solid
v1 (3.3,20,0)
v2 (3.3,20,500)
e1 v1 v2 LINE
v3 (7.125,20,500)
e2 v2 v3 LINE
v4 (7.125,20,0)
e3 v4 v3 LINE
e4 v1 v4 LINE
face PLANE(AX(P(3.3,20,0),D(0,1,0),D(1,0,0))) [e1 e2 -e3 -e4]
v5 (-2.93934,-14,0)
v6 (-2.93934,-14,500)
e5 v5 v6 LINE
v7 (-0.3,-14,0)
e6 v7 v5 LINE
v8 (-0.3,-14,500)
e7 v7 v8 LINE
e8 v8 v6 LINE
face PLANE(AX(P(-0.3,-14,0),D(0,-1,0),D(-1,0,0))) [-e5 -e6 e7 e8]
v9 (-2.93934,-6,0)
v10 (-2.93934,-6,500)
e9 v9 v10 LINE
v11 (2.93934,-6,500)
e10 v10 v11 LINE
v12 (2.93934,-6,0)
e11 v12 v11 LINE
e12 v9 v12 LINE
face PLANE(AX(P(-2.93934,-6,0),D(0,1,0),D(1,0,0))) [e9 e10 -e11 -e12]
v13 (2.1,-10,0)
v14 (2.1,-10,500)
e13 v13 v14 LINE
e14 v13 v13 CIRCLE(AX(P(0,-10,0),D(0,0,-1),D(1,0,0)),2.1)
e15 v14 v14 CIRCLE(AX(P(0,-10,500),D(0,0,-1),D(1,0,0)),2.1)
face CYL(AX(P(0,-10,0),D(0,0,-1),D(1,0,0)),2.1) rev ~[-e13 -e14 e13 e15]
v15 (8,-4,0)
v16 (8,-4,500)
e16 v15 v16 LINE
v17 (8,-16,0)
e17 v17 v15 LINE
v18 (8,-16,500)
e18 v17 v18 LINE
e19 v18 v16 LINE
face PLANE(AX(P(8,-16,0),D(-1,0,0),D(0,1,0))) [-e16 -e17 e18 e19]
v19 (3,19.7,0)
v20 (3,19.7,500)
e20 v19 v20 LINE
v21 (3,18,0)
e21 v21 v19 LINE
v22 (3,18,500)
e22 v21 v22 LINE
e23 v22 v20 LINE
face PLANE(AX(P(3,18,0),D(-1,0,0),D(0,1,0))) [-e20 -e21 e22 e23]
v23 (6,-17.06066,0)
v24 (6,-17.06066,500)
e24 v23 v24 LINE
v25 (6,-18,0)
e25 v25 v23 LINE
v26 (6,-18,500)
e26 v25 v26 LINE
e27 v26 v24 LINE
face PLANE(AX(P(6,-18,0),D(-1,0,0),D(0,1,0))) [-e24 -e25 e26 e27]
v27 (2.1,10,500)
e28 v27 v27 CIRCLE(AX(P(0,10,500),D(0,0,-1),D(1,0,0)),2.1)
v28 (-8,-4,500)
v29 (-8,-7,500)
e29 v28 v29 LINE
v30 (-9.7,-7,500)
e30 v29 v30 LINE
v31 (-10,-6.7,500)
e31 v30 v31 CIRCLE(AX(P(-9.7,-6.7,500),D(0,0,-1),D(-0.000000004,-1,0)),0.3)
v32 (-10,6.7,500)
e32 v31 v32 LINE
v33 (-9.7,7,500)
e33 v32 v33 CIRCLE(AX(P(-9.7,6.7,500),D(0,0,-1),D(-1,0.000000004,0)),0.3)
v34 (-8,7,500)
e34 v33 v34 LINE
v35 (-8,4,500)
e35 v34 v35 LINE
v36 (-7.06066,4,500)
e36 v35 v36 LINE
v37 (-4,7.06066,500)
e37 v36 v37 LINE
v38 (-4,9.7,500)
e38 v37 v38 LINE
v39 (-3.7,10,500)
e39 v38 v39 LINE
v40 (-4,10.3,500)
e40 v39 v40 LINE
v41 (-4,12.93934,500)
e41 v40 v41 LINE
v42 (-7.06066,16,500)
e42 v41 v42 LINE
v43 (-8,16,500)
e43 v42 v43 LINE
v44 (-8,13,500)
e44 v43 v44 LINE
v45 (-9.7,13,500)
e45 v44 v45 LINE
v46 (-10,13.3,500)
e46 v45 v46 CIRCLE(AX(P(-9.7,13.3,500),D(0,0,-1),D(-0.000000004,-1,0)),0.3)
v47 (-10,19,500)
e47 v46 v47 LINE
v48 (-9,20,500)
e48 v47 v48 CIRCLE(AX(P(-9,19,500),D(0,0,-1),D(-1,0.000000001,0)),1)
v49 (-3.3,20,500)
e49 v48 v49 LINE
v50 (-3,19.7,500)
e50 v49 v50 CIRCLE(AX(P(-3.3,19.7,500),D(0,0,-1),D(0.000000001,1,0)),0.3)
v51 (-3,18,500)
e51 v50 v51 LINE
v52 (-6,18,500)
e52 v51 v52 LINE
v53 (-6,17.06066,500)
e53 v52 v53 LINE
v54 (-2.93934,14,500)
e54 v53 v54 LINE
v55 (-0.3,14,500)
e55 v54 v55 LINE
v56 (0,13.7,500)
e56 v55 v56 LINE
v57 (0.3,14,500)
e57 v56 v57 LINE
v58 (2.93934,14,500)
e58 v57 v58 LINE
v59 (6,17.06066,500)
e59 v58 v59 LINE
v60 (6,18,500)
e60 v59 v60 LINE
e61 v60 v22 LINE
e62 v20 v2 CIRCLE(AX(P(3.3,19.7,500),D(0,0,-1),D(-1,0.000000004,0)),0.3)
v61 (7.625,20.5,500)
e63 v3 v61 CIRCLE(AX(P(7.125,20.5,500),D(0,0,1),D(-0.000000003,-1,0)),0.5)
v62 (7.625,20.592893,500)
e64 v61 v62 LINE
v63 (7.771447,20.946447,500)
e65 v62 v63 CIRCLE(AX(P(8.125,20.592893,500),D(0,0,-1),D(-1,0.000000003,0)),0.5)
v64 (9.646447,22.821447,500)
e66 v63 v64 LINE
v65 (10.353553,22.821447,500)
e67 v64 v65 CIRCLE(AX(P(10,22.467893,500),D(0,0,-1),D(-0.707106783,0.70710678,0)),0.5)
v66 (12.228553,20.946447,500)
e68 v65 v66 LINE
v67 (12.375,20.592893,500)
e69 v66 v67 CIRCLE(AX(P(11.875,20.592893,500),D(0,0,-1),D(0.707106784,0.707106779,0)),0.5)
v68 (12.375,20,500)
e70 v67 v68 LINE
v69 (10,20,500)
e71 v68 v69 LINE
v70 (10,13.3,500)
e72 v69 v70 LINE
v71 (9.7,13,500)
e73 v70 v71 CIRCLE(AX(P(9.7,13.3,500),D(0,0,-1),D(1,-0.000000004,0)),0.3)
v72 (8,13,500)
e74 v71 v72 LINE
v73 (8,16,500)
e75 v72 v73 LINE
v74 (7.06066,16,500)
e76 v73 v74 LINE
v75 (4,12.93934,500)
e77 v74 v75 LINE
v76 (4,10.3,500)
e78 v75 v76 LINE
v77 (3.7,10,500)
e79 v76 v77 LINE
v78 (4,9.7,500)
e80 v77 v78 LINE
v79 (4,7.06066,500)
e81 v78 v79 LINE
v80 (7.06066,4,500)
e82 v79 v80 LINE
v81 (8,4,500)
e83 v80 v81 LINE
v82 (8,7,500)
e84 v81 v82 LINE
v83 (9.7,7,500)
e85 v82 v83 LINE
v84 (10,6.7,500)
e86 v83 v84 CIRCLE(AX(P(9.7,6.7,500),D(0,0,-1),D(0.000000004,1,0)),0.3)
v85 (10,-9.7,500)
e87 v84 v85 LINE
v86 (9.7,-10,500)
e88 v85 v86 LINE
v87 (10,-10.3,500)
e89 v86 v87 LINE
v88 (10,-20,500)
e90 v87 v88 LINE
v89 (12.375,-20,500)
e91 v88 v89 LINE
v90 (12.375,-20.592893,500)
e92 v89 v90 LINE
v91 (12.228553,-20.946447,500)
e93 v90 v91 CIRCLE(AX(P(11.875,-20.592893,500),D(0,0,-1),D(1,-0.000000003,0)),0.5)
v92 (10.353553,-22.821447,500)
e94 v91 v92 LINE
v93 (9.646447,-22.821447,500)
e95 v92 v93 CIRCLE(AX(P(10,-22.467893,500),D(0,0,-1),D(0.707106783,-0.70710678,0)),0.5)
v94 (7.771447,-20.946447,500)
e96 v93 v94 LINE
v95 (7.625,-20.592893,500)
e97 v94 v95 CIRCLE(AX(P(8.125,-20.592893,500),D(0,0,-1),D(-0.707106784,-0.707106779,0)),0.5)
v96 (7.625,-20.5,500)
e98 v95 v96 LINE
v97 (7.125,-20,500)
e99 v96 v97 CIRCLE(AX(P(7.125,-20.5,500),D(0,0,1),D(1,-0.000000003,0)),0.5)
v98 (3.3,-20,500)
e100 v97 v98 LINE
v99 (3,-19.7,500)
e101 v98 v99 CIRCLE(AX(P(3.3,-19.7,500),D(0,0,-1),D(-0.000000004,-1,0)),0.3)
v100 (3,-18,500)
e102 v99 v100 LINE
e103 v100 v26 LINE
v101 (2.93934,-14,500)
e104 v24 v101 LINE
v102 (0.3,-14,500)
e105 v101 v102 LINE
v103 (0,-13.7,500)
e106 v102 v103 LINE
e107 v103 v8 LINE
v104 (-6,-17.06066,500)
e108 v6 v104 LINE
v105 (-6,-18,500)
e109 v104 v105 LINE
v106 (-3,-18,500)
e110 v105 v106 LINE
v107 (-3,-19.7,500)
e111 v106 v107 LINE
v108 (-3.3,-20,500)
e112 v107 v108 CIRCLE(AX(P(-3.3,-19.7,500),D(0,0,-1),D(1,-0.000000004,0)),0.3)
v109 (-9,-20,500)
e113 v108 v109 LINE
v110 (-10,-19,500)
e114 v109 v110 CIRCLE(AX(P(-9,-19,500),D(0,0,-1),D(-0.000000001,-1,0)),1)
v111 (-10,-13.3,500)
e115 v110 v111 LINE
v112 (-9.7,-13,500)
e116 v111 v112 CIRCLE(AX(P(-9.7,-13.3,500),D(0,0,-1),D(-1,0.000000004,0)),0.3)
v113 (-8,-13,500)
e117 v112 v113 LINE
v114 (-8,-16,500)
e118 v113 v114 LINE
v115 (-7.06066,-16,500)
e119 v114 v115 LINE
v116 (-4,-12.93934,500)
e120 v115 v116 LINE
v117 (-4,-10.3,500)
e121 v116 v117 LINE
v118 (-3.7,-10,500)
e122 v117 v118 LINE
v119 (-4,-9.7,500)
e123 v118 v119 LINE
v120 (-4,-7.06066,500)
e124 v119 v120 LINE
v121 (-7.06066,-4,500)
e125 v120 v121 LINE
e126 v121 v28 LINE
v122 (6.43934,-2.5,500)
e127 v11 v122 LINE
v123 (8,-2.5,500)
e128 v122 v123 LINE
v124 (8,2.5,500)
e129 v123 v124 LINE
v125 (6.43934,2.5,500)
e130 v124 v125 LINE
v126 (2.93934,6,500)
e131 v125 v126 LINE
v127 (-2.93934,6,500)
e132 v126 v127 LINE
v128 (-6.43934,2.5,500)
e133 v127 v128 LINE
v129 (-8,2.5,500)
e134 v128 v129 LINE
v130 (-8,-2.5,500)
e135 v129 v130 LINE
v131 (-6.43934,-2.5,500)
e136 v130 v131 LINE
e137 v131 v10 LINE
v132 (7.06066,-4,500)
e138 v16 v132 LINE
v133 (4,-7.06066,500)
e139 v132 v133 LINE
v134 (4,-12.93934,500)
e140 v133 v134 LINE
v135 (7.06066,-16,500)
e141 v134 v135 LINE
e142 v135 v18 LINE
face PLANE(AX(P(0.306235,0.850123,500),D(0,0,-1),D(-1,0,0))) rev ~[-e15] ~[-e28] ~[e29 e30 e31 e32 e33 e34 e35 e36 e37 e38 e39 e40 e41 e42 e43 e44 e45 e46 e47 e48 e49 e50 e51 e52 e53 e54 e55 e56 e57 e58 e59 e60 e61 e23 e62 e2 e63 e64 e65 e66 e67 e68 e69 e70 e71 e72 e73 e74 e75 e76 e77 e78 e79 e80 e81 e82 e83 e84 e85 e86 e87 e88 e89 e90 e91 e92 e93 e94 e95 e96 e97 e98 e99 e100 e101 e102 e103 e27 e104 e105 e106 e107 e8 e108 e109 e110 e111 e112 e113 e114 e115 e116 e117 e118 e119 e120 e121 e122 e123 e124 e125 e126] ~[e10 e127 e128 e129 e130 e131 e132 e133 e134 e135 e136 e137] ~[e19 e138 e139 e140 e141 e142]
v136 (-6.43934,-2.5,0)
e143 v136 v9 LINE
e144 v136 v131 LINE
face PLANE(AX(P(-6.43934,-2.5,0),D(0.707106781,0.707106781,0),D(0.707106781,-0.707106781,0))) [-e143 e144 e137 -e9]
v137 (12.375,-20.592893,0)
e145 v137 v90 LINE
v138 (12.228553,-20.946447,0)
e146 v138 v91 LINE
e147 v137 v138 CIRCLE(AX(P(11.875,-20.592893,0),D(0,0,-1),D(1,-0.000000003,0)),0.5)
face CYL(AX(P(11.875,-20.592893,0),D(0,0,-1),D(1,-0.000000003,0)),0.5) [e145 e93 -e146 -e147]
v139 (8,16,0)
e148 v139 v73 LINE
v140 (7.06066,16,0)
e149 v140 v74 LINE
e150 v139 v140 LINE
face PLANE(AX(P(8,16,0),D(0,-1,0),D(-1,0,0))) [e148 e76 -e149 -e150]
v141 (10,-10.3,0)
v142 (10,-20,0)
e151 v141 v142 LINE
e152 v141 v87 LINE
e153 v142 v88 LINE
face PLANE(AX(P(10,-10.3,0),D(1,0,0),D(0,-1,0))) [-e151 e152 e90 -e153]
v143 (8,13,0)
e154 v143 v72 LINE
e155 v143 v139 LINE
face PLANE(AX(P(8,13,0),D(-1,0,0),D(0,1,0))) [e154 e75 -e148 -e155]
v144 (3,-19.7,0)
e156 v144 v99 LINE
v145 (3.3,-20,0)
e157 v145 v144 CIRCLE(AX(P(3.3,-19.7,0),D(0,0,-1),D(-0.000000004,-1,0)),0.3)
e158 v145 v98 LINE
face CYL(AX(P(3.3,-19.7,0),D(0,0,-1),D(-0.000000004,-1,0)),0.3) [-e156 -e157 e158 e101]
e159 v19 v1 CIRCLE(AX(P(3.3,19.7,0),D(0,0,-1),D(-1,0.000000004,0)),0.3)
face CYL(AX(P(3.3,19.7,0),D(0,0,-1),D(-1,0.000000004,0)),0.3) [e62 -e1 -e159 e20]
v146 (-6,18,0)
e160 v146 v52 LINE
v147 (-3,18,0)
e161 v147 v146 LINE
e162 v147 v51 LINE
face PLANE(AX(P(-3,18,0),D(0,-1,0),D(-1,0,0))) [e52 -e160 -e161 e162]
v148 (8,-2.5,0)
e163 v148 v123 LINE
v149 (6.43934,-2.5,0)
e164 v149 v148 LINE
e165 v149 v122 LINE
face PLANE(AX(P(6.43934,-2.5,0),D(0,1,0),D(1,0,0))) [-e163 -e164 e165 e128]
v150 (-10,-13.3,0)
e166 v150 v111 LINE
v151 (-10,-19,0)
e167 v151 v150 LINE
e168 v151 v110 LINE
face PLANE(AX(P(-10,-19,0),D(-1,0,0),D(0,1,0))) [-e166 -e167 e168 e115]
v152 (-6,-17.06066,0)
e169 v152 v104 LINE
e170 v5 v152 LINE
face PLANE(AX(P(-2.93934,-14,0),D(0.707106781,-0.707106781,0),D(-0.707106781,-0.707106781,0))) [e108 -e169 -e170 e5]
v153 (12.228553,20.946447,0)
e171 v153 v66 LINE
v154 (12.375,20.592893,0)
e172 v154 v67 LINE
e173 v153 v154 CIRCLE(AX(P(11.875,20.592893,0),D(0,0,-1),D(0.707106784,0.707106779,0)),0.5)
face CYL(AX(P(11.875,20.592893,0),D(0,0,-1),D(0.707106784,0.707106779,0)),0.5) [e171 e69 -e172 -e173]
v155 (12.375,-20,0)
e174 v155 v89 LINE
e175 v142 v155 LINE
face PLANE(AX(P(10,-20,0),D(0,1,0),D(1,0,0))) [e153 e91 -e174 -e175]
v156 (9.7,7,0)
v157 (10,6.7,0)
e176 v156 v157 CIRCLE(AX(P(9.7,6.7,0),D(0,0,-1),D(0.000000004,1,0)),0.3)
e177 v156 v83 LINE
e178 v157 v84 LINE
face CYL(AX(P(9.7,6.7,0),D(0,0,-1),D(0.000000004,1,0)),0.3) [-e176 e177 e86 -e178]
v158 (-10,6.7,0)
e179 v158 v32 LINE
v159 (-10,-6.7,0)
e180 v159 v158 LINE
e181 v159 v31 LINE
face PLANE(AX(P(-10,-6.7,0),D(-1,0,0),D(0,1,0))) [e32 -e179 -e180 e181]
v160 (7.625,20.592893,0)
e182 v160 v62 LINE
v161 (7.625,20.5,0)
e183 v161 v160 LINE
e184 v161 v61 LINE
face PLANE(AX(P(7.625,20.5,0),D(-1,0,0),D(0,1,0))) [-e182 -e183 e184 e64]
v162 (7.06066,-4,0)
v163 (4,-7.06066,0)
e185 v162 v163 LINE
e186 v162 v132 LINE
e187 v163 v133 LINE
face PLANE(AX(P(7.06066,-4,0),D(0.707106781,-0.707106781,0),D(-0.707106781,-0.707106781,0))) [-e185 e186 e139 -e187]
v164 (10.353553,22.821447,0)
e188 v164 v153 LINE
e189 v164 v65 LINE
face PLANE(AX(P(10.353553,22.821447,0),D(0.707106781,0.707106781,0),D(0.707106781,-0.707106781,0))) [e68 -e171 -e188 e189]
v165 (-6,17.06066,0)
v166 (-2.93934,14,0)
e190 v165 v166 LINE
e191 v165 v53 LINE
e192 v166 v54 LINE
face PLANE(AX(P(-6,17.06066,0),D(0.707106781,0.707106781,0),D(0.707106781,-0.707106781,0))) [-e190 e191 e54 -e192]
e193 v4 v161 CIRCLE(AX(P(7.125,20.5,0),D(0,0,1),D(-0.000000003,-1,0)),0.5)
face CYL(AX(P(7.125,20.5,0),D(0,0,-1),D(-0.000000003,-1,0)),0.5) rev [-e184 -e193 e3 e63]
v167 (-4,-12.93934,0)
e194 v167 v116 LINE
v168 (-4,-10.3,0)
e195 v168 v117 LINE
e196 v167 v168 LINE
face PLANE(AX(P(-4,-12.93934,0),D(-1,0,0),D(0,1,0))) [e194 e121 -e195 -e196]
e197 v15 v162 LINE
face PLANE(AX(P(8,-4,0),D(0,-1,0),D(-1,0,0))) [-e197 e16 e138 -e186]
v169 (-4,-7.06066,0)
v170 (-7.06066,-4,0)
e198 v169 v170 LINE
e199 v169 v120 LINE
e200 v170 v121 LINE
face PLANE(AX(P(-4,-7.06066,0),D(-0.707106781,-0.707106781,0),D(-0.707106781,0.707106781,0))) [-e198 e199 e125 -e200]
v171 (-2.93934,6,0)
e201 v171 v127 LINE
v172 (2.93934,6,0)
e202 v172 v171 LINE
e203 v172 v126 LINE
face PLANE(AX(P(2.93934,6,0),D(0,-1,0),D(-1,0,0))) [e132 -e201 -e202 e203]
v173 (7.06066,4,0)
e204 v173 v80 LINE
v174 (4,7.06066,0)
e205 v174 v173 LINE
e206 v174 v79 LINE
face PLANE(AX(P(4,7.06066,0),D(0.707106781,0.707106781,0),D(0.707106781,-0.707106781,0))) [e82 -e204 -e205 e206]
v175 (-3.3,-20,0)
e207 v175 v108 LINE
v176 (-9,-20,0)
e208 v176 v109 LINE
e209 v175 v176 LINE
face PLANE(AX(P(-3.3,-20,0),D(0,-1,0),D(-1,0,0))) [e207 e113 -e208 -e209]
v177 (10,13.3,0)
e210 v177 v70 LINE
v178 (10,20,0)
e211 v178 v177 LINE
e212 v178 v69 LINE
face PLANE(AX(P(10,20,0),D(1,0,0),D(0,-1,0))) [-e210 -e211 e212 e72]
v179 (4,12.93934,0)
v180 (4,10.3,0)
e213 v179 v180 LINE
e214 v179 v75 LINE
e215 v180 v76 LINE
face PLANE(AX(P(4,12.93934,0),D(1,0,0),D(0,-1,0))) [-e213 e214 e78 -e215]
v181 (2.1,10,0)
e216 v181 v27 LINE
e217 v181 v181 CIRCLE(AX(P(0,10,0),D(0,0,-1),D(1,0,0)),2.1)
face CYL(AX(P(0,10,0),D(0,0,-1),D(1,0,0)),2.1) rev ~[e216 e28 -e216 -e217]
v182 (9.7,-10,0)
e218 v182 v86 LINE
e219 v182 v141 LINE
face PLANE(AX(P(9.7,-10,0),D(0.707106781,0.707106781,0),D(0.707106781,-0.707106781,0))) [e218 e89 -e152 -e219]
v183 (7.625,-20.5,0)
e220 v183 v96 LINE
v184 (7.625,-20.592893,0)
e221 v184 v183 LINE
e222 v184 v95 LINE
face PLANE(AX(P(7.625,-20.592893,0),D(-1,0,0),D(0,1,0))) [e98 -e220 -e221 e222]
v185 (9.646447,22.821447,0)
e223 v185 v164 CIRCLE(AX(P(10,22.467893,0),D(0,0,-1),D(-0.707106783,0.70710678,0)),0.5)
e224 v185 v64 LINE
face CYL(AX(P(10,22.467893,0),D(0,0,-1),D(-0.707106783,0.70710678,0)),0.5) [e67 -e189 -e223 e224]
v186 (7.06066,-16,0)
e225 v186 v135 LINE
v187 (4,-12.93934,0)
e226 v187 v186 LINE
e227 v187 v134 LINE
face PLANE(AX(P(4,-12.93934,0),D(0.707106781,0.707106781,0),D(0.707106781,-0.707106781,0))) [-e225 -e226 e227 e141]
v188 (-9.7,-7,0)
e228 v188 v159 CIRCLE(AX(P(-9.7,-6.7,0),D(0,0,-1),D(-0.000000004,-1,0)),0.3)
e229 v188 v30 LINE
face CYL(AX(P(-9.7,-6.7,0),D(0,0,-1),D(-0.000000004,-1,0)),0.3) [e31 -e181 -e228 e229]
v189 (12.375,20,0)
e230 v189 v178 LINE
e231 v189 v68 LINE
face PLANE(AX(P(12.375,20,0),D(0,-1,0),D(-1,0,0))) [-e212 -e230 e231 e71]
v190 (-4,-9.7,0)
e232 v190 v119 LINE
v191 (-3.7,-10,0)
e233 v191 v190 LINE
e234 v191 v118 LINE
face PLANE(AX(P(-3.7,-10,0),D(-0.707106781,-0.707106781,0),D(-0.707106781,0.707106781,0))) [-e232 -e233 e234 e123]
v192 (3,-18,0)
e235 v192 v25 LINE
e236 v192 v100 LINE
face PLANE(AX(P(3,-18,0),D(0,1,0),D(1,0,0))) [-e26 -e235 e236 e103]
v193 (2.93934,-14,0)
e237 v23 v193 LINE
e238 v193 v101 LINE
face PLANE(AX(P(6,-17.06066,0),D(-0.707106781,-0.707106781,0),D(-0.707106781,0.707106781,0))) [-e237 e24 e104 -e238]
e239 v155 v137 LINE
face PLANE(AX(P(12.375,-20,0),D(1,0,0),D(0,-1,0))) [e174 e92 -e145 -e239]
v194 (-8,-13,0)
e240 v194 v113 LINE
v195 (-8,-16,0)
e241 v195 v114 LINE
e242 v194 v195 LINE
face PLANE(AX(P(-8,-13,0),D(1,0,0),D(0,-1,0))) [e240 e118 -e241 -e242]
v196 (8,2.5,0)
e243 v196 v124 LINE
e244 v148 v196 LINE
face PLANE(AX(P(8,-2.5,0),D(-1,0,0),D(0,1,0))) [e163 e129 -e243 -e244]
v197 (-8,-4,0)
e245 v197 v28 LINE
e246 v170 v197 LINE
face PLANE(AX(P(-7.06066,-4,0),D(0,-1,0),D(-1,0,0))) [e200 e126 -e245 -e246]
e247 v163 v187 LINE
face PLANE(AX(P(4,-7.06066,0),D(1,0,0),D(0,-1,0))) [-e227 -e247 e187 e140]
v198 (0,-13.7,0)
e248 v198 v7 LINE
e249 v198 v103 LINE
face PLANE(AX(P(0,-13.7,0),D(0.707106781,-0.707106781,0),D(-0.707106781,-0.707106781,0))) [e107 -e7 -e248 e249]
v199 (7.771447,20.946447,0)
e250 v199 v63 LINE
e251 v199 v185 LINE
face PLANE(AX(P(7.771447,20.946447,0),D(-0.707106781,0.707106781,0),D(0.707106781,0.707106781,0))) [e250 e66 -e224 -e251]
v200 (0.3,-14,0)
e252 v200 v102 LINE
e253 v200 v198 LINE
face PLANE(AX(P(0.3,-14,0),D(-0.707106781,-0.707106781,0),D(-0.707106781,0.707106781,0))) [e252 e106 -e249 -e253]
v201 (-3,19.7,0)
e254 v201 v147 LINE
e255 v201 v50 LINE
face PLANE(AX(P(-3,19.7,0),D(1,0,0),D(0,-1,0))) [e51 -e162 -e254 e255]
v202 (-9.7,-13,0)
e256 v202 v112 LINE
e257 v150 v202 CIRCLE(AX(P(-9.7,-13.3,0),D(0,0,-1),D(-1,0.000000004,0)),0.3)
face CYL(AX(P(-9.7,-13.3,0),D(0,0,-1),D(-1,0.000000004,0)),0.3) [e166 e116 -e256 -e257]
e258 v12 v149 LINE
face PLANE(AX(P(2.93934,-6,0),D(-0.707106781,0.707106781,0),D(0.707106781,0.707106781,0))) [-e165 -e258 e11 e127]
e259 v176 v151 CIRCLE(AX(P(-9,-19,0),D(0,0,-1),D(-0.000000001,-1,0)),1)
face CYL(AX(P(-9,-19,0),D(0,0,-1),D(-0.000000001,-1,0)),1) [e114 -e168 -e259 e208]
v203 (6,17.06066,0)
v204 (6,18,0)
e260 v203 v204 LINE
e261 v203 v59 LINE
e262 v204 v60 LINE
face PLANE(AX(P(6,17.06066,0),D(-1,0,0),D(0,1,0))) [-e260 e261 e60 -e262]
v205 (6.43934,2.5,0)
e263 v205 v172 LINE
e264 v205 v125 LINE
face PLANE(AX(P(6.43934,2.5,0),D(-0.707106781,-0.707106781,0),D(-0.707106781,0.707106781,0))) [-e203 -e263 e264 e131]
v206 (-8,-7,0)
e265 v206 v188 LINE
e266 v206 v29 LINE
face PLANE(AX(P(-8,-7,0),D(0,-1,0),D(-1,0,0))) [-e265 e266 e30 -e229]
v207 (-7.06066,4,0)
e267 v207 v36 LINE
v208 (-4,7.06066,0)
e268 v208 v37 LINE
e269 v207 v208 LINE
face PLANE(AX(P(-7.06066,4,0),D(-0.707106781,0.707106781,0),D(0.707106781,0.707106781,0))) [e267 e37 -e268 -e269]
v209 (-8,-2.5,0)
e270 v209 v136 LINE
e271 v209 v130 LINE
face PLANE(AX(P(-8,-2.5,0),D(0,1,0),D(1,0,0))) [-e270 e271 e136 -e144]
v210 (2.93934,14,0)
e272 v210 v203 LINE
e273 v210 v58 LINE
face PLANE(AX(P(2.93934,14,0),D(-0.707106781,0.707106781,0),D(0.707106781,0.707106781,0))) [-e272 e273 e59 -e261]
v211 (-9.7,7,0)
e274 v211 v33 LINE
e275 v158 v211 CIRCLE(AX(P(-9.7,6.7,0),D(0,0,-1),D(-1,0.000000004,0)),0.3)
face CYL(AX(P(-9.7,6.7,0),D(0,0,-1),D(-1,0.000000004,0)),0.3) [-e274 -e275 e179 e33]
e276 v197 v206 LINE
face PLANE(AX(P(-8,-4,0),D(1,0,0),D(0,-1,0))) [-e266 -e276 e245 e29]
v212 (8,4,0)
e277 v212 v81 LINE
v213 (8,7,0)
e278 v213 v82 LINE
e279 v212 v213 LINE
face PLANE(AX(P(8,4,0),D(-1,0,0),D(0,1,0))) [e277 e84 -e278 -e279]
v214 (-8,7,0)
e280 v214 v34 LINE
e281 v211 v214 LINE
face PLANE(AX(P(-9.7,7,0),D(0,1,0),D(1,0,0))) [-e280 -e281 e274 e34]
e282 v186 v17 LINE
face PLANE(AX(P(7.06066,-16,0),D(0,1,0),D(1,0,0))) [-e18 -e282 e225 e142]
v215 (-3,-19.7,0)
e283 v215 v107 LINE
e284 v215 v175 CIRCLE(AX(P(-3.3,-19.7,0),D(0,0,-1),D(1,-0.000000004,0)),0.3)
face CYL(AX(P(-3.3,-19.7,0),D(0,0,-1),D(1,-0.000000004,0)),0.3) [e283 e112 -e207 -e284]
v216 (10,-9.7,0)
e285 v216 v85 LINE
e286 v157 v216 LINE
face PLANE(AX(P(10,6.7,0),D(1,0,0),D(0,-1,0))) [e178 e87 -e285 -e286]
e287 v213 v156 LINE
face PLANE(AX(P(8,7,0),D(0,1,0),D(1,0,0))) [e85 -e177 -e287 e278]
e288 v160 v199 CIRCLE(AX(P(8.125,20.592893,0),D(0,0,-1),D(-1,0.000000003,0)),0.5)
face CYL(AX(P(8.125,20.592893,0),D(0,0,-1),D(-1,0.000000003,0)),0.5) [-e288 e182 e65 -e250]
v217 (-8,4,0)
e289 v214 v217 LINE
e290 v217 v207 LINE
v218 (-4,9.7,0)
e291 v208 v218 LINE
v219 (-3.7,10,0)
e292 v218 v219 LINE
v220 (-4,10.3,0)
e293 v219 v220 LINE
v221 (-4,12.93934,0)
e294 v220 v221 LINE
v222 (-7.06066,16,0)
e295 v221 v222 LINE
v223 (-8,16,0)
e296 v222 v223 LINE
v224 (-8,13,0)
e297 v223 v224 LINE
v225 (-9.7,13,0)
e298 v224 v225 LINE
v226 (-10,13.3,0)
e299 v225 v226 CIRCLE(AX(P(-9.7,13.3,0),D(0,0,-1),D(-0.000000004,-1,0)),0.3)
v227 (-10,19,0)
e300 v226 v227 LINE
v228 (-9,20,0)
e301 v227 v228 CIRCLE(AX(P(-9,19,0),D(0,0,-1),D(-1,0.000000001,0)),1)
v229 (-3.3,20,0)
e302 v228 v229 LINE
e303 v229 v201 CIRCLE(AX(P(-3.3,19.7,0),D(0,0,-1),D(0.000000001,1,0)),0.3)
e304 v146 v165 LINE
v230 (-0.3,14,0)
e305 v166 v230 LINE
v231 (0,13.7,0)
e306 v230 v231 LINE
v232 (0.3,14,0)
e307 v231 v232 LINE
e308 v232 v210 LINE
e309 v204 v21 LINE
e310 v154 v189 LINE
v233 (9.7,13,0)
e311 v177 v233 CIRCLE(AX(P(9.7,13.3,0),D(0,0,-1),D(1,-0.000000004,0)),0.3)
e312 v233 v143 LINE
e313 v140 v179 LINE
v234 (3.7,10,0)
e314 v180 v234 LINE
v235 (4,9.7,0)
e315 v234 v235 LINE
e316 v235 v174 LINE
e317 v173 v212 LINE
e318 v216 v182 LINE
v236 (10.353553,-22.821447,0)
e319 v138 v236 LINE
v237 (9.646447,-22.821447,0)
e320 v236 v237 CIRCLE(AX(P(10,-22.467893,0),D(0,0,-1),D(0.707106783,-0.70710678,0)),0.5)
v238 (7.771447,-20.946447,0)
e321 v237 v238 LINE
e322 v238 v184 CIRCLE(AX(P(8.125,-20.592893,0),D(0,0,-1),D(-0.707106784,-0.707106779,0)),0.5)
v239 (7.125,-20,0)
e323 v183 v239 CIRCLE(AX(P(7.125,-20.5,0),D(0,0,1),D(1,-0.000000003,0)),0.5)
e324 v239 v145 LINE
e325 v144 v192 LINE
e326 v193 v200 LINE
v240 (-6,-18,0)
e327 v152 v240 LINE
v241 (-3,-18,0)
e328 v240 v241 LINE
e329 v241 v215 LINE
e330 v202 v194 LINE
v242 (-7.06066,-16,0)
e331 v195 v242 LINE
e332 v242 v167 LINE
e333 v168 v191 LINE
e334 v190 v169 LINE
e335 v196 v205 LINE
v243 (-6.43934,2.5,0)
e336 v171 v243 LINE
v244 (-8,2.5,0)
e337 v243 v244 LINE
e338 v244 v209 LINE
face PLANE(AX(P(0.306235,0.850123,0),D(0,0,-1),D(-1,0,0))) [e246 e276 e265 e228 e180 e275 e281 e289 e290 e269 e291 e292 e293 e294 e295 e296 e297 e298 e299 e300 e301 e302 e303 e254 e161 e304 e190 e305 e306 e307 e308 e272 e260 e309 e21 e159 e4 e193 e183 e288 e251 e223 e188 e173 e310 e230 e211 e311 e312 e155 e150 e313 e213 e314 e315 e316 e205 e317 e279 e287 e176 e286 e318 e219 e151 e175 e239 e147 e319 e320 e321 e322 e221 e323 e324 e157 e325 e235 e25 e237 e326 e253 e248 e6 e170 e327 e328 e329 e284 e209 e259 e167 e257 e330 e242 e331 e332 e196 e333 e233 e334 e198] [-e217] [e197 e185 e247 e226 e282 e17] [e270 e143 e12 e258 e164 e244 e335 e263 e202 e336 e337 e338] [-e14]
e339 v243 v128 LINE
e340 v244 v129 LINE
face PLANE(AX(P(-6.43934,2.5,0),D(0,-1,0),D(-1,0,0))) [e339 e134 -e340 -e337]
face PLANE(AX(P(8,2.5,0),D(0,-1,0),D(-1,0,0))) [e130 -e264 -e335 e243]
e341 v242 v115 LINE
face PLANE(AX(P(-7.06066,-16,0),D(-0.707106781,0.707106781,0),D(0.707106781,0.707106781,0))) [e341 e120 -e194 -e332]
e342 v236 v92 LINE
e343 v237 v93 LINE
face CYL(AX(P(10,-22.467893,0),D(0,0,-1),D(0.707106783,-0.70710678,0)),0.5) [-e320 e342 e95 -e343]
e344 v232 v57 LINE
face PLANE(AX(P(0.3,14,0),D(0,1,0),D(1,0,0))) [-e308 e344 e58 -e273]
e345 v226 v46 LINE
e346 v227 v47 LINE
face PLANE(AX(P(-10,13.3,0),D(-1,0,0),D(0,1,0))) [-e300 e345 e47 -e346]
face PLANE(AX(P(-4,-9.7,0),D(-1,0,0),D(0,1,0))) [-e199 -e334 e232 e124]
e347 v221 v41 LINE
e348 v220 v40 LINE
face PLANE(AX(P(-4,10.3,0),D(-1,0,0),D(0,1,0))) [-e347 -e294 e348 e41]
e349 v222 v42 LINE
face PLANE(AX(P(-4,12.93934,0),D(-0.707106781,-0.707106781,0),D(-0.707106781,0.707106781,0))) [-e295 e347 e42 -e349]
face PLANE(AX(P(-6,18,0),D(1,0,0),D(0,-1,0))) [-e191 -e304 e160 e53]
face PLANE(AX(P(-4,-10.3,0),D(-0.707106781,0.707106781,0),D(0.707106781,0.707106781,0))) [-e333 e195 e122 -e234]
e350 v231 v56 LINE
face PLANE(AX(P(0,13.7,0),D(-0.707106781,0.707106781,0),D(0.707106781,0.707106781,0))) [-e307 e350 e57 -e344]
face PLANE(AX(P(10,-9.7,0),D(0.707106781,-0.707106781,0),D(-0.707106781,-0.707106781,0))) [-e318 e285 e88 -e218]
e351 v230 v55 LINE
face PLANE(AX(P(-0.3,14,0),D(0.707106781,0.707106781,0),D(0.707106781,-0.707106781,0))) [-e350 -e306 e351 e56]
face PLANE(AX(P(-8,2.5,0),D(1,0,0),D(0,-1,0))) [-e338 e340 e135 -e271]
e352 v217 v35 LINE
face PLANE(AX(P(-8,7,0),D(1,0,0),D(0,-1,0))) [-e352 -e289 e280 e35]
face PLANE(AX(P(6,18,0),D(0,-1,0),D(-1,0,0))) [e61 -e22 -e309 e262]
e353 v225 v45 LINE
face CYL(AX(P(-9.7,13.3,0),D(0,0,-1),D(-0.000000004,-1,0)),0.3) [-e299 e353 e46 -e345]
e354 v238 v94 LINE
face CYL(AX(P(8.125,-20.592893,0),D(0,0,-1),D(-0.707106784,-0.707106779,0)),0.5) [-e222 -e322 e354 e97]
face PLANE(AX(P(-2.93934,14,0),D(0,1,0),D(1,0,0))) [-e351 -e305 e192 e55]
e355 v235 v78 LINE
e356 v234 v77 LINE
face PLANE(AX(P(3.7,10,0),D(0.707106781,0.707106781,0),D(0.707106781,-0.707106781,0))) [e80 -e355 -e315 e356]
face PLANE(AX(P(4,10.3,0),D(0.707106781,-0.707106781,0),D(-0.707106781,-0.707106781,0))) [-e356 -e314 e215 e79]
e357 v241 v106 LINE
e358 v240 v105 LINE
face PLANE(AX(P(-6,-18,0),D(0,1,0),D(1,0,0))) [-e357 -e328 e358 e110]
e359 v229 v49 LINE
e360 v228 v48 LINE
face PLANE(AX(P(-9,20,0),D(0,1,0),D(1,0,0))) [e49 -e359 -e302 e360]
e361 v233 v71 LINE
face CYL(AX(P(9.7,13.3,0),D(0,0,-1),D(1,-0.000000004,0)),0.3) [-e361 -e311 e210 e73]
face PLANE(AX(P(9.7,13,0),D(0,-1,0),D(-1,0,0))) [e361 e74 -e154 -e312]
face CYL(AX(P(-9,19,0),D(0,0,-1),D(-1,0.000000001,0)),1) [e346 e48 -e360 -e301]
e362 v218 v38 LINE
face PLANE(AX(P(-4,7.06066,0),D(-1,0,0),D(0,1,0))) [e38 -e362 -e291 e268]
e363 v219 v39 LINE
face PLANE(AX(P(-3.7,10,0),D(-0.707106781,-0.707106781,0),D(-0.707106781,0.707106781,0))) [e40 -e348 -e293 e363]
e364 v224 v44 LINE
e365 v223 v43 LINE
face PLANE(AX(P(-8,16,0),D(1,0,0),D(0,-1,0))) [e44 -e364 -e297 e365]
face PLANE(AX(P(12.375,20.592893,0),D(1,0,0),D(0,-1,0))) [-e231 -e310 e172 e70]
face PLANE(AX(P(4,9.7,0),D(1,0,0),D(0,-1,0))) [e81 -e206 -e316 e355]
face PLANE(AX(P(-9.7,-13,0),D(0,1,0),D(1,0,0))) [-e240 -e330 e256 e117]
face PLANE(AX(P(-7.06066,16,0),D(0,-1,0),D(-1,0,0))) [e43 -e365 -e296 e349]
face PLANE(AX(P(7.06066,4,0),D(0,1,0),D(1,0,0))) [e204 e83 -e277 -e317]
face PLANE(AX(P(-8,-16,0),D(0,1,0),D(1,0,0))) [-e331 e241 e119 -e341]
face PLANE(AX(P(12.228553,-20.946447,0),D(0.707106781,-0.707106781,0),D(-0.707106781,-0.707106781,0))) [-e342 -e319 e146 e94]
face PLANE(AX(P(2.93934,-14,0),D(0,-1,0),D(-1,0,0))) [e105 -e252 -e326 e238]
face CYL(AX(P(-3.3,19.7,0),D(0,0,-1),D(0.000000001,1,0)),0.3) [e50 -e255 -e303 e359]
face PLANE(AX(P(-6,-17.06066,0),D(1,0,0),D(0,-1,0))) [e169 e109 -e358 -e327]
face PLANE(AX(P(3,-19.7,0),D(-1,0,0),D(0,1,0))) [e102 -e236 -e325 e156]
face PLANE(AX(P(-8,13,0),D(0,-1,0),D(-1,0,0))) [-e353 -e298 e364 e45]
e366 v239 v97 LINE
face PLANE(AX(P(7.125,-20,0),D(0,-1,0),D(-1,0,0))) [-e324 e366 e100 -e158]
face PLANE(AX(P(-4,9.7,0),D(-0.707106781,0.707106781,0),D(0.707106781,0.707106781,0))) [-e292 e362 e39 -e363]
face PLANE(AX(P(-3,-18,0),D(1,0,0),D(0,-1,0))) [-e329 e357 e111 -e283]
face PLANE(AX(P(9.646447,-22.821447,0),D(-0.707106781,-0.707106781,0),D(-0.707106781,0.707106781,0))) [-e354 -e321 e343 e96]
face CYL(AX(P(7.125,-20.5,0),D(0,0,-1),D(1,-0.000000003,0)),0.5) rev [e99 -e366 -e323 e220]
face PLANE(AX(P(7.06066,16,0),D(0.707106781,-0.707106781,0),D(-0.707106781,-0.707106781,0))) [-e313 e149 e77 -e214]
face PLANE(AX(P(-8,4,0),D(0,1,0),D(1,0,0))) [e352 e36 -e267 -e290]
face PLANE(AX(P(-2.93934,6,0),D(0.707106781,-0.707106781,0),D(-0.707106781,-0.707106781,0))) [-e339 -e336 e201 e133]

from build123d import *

# Parameters (mm, degrees)
SKETCH1_R           = 2.1
BOSS_EXTRUDE1_DEPTH = 500


with BuildPart() as part:
    # Sketch1 → Boss-Extrude1 (new body)
    with BuildSketch(Plane(origin=(0, 0, 0), x_dir=(-1, 0, 0), z_dir=(0, 0, -1))):
        with BuildLine():
            Line((-9.646446609, -22.821446609), (-7.771446609, -20.946446609))
            ThreePointArc((-7.771446609, -20.946446609), (-7.663060234, -20.784234935), (-7.625, -20.592893219))
            Line((-7.625, -20.592893219), (-7.625, -20.5))
            ThreePointArc((-7.625, -20.5), (-7.478553391, -20.146446609), (-7.125, -20))
            Line((-7.125, -20), (-3.3, -20))
            ThreePointArc((-3.3, -20), (-3.087867966, -19.912132034), (-3, -19.7))
            Line((-3, -19.7), (-3, -18))
            Line((-3, -18), (-6, -18))
            Line((-6, -18), (-6, -17.060660172))
            Line((-6, -17.060660172), (-2.939339828, -14))
            Line((-2.939339828, -14), (-0.3, -14))
            Line((-0.3, -14), (0, -13.7))
            Line((0, -13.7), (0.3, -14))
            Line((0.3, -14), (2.939339828, -14))
            Line((2.939339828, -14), (6, -17.060660172))
            Line((6, -17.060660172), (6, -18))
            Line((6, -18), (3, -18))
            Line((3, -18), (3, -19.7))
            ThreePointArc((3, -19.7), (3.087867966, -19.912132034), (3.3, -20))
            Line((3.3, -20), (9, -20))
            ThreePointArc((9, -20), (9.707106781, -19.707106781), (10, -19))
            Line((10, -19), (10, -13.3))
            ThreePointArc((10, -13.3), (9.912132034, -13.087867966), (9.7, -13))
            Line((9.7, -13), (8, -13))
            Line((8, -13), (8, -16))
            Line((8, -16), (7.060660172, -16))
            Line((7.060660172, -16), (4, -12.939339828))
            Line((4, -12.939339828), (4, -10.3))
            Line((4, -10.3), (3.7, -10))
            Line((3.7, -10), (4, -9.7))
            Line((4, -9.7), (4, -7.060660172))
            Line((4, -7.060660172), (7.060660172, -4))
            Line((7.060660172, -4), (8, -4))
            Line((8, -4), (8, -7))
            Line((8, -7), (9.7, -7))
            ThreePointArc((9.7, -7), (9.912132034, -6.912132034), (10, -6.7))
            Line((10, -6.7), (10, 6.7))
            ThreePointArc((10, 6.7), (9.912132034, 6.912132034), (9.7, 7))
            Line((9.7, 7), (8, 7))
            Line((8, 7), (8, 4))
            Line((8, 4), (7.060660172, 4))
            Line((7.060660172, 4), (4, 7.060660172))
            Line((4, 7.060660172), (4, 9.7))
            Line((4, 9.7), (3.7, 10))
            Line((3.7, 10), (4, 10.3))
            Line((4, 10.3), (4, 12.939339828))
            Line((4, 12.939339828), (7.060660172, 16))
            Line((7.060660172, 16), (8, 16))
            Line((8, 16), (8, 13))
            Line((8, 13), (9.7, 13))
            ThreePointArc((9.7, 13), (9.912132034, 13.087867966), (10, 13.3))
            Line((10, 13.3), (10, 19))
            ThreePointArc((10, 19), (9.707106781, 19.707106781), (9, 20))
            Line((9, 20), (3.300000001, 20))
            ThreePointArc((3.300000001, 20), (3.087867966, 19.912132034), (3, 19.699999999))
            Line((3, 19.699999999), (3, 18))
            Line((3, 18), (6, 18))
            Line((6, 18), (6, 17.060660172))
            Line((6, 17.060660172), (2.939339828, 14))
            Line((2.939339828, 14), (0.3, 14))
            Line((0.3, 14), (0, 13.7))
            Line((0, 13.7), (-0.3, 14))
            Line((-0.3, 14), (-2.939339828, 14))
            Line((-2.939339828, 14), (-6, 17.060660172))
            Line((-6, 17.060660172), (-6, 18))
            Line((-6, 18), (-3, 18))
            Line((-3, 18), (-3, 19.7))
            ThreePointArc((-3, 19.7), (-3.087867966, 19.912132034), (-3.3, 20))
            Line((-3.3, 20), (-7.125, 20))
            ThreePointArc((-7.125, 20), (-7.478553391, 20.146446609), (-7.625, 20.5))
            Line((-7.625, 20.5), (-7.625, 20.592893219))
            ThreePointArc((-7.625, 20.592893219), (-7.663060234, 20.784234935), (-7.771446609, 20.946446609))
            Line((-7.771446609, 20.946446609), (-9.646446609, 22.821446609))
            ThreePointArc((-9.646446609, 22.821446609), (-10, 22.967893219), (-10.353553391, 22.821446609))
            Line((-10.353553391, 22.821446609), (-12.228553391, 20.946446609))
            ThreePointArc((-12.228553391, 20.946446609), (-12.336939766, 20.784234935), (-12.375, 20.592893219))
            Line((-12.375, 20.592893219), (-12.375, 20))
            Line((-12.375, 20), (-10, 20))
            Line((-10, 20), (-10, 13.3))
            ThreePointArc((-10, 13.3), (-9.912132034, 13.087867966), (-9.7, 13))
            Line((-9.7, 13), (-8, 13))
            Line((-8, 13), (-8, 16))
            Line((-8, 16), (-7.060660172, 16))
            Line((-7.060660172, 16), (-4, 12.939339828))
            Line((-4, 12.939339828), (-4, 10.3))
            Line((-4, 10.3), (-3.7, 10))
            Line((-3.7, 10), (-4, 9.7))
            Line((-4, 9.7), (-4, 7.060660172))
            Line((-4, 7.060660172), (-7.060660172, 4))
            Line((-7.060660172, 4), (-8, 4))
            Line((-8, 4), (-8, 7))
            Line((-8, 7), (-9.7, 7))
            ThreePointArc((-9.7, 7), (-9.912132034, 6.912132034), (-10, 6.7))
            Line((-10, 6.7), (-10, -9.7))
            Line((-10, -9.7), (-9.7, -10))
            Line((-9.7, -10), (-10, -10.3))
            Line((-10, -10.3), (-10, -20))
            Line((-10, -20), (-12.375, -20))
            Line((-12.375, -20), (-12.375, -20.592893219))
            ThreePointArc((-12.375, -20.592893219), (-12.336939766, -20.784234935), (-12.228553391, -20.946446609))
            Line((-12.228553391, -20.946446609), (-10.353553391, -22.821446609))
            ThreePointArc((-10.353553391, -22.821446609), (-10, -22.967893219), (-9.646446609, -22.821446609))
        make_face()
        with Locations(Location((0, 10, 0), (0, 0, 180))):
            Circle(SKETCH1_R, mode=Mode.SUBTRACT)
        with Locations(Location((0, -10, 0), (0, 0, 180))):
            Circle(SKETCH1_R, mode=Mode.SUBTRACT)
        Polygon((-8, -4), (-7.060660172, -4), (-4, -7.060660172), (-4, -12.939339828), (-7.060660172, -16), (-8, -16), align=None, mode=Mode.SUBTRACT)
        Polygon((8, -2.5), (6.439339828, -2.5), (2.939339828, -6), (-2.939339828, -6), (-6.439339828, -2.5), (-8, -2.5), (-8, 2.5), (-6.439339828, 2.5), (-2.939339828, 6), (2.939339828, 6), (6.439339828, 2.5), (8, 2.5), align=None, mode=Mode.SUBTRACT)
    extrude(amount=-BOSS_EXTRUDE1_DEPTH)


solid = part.part
